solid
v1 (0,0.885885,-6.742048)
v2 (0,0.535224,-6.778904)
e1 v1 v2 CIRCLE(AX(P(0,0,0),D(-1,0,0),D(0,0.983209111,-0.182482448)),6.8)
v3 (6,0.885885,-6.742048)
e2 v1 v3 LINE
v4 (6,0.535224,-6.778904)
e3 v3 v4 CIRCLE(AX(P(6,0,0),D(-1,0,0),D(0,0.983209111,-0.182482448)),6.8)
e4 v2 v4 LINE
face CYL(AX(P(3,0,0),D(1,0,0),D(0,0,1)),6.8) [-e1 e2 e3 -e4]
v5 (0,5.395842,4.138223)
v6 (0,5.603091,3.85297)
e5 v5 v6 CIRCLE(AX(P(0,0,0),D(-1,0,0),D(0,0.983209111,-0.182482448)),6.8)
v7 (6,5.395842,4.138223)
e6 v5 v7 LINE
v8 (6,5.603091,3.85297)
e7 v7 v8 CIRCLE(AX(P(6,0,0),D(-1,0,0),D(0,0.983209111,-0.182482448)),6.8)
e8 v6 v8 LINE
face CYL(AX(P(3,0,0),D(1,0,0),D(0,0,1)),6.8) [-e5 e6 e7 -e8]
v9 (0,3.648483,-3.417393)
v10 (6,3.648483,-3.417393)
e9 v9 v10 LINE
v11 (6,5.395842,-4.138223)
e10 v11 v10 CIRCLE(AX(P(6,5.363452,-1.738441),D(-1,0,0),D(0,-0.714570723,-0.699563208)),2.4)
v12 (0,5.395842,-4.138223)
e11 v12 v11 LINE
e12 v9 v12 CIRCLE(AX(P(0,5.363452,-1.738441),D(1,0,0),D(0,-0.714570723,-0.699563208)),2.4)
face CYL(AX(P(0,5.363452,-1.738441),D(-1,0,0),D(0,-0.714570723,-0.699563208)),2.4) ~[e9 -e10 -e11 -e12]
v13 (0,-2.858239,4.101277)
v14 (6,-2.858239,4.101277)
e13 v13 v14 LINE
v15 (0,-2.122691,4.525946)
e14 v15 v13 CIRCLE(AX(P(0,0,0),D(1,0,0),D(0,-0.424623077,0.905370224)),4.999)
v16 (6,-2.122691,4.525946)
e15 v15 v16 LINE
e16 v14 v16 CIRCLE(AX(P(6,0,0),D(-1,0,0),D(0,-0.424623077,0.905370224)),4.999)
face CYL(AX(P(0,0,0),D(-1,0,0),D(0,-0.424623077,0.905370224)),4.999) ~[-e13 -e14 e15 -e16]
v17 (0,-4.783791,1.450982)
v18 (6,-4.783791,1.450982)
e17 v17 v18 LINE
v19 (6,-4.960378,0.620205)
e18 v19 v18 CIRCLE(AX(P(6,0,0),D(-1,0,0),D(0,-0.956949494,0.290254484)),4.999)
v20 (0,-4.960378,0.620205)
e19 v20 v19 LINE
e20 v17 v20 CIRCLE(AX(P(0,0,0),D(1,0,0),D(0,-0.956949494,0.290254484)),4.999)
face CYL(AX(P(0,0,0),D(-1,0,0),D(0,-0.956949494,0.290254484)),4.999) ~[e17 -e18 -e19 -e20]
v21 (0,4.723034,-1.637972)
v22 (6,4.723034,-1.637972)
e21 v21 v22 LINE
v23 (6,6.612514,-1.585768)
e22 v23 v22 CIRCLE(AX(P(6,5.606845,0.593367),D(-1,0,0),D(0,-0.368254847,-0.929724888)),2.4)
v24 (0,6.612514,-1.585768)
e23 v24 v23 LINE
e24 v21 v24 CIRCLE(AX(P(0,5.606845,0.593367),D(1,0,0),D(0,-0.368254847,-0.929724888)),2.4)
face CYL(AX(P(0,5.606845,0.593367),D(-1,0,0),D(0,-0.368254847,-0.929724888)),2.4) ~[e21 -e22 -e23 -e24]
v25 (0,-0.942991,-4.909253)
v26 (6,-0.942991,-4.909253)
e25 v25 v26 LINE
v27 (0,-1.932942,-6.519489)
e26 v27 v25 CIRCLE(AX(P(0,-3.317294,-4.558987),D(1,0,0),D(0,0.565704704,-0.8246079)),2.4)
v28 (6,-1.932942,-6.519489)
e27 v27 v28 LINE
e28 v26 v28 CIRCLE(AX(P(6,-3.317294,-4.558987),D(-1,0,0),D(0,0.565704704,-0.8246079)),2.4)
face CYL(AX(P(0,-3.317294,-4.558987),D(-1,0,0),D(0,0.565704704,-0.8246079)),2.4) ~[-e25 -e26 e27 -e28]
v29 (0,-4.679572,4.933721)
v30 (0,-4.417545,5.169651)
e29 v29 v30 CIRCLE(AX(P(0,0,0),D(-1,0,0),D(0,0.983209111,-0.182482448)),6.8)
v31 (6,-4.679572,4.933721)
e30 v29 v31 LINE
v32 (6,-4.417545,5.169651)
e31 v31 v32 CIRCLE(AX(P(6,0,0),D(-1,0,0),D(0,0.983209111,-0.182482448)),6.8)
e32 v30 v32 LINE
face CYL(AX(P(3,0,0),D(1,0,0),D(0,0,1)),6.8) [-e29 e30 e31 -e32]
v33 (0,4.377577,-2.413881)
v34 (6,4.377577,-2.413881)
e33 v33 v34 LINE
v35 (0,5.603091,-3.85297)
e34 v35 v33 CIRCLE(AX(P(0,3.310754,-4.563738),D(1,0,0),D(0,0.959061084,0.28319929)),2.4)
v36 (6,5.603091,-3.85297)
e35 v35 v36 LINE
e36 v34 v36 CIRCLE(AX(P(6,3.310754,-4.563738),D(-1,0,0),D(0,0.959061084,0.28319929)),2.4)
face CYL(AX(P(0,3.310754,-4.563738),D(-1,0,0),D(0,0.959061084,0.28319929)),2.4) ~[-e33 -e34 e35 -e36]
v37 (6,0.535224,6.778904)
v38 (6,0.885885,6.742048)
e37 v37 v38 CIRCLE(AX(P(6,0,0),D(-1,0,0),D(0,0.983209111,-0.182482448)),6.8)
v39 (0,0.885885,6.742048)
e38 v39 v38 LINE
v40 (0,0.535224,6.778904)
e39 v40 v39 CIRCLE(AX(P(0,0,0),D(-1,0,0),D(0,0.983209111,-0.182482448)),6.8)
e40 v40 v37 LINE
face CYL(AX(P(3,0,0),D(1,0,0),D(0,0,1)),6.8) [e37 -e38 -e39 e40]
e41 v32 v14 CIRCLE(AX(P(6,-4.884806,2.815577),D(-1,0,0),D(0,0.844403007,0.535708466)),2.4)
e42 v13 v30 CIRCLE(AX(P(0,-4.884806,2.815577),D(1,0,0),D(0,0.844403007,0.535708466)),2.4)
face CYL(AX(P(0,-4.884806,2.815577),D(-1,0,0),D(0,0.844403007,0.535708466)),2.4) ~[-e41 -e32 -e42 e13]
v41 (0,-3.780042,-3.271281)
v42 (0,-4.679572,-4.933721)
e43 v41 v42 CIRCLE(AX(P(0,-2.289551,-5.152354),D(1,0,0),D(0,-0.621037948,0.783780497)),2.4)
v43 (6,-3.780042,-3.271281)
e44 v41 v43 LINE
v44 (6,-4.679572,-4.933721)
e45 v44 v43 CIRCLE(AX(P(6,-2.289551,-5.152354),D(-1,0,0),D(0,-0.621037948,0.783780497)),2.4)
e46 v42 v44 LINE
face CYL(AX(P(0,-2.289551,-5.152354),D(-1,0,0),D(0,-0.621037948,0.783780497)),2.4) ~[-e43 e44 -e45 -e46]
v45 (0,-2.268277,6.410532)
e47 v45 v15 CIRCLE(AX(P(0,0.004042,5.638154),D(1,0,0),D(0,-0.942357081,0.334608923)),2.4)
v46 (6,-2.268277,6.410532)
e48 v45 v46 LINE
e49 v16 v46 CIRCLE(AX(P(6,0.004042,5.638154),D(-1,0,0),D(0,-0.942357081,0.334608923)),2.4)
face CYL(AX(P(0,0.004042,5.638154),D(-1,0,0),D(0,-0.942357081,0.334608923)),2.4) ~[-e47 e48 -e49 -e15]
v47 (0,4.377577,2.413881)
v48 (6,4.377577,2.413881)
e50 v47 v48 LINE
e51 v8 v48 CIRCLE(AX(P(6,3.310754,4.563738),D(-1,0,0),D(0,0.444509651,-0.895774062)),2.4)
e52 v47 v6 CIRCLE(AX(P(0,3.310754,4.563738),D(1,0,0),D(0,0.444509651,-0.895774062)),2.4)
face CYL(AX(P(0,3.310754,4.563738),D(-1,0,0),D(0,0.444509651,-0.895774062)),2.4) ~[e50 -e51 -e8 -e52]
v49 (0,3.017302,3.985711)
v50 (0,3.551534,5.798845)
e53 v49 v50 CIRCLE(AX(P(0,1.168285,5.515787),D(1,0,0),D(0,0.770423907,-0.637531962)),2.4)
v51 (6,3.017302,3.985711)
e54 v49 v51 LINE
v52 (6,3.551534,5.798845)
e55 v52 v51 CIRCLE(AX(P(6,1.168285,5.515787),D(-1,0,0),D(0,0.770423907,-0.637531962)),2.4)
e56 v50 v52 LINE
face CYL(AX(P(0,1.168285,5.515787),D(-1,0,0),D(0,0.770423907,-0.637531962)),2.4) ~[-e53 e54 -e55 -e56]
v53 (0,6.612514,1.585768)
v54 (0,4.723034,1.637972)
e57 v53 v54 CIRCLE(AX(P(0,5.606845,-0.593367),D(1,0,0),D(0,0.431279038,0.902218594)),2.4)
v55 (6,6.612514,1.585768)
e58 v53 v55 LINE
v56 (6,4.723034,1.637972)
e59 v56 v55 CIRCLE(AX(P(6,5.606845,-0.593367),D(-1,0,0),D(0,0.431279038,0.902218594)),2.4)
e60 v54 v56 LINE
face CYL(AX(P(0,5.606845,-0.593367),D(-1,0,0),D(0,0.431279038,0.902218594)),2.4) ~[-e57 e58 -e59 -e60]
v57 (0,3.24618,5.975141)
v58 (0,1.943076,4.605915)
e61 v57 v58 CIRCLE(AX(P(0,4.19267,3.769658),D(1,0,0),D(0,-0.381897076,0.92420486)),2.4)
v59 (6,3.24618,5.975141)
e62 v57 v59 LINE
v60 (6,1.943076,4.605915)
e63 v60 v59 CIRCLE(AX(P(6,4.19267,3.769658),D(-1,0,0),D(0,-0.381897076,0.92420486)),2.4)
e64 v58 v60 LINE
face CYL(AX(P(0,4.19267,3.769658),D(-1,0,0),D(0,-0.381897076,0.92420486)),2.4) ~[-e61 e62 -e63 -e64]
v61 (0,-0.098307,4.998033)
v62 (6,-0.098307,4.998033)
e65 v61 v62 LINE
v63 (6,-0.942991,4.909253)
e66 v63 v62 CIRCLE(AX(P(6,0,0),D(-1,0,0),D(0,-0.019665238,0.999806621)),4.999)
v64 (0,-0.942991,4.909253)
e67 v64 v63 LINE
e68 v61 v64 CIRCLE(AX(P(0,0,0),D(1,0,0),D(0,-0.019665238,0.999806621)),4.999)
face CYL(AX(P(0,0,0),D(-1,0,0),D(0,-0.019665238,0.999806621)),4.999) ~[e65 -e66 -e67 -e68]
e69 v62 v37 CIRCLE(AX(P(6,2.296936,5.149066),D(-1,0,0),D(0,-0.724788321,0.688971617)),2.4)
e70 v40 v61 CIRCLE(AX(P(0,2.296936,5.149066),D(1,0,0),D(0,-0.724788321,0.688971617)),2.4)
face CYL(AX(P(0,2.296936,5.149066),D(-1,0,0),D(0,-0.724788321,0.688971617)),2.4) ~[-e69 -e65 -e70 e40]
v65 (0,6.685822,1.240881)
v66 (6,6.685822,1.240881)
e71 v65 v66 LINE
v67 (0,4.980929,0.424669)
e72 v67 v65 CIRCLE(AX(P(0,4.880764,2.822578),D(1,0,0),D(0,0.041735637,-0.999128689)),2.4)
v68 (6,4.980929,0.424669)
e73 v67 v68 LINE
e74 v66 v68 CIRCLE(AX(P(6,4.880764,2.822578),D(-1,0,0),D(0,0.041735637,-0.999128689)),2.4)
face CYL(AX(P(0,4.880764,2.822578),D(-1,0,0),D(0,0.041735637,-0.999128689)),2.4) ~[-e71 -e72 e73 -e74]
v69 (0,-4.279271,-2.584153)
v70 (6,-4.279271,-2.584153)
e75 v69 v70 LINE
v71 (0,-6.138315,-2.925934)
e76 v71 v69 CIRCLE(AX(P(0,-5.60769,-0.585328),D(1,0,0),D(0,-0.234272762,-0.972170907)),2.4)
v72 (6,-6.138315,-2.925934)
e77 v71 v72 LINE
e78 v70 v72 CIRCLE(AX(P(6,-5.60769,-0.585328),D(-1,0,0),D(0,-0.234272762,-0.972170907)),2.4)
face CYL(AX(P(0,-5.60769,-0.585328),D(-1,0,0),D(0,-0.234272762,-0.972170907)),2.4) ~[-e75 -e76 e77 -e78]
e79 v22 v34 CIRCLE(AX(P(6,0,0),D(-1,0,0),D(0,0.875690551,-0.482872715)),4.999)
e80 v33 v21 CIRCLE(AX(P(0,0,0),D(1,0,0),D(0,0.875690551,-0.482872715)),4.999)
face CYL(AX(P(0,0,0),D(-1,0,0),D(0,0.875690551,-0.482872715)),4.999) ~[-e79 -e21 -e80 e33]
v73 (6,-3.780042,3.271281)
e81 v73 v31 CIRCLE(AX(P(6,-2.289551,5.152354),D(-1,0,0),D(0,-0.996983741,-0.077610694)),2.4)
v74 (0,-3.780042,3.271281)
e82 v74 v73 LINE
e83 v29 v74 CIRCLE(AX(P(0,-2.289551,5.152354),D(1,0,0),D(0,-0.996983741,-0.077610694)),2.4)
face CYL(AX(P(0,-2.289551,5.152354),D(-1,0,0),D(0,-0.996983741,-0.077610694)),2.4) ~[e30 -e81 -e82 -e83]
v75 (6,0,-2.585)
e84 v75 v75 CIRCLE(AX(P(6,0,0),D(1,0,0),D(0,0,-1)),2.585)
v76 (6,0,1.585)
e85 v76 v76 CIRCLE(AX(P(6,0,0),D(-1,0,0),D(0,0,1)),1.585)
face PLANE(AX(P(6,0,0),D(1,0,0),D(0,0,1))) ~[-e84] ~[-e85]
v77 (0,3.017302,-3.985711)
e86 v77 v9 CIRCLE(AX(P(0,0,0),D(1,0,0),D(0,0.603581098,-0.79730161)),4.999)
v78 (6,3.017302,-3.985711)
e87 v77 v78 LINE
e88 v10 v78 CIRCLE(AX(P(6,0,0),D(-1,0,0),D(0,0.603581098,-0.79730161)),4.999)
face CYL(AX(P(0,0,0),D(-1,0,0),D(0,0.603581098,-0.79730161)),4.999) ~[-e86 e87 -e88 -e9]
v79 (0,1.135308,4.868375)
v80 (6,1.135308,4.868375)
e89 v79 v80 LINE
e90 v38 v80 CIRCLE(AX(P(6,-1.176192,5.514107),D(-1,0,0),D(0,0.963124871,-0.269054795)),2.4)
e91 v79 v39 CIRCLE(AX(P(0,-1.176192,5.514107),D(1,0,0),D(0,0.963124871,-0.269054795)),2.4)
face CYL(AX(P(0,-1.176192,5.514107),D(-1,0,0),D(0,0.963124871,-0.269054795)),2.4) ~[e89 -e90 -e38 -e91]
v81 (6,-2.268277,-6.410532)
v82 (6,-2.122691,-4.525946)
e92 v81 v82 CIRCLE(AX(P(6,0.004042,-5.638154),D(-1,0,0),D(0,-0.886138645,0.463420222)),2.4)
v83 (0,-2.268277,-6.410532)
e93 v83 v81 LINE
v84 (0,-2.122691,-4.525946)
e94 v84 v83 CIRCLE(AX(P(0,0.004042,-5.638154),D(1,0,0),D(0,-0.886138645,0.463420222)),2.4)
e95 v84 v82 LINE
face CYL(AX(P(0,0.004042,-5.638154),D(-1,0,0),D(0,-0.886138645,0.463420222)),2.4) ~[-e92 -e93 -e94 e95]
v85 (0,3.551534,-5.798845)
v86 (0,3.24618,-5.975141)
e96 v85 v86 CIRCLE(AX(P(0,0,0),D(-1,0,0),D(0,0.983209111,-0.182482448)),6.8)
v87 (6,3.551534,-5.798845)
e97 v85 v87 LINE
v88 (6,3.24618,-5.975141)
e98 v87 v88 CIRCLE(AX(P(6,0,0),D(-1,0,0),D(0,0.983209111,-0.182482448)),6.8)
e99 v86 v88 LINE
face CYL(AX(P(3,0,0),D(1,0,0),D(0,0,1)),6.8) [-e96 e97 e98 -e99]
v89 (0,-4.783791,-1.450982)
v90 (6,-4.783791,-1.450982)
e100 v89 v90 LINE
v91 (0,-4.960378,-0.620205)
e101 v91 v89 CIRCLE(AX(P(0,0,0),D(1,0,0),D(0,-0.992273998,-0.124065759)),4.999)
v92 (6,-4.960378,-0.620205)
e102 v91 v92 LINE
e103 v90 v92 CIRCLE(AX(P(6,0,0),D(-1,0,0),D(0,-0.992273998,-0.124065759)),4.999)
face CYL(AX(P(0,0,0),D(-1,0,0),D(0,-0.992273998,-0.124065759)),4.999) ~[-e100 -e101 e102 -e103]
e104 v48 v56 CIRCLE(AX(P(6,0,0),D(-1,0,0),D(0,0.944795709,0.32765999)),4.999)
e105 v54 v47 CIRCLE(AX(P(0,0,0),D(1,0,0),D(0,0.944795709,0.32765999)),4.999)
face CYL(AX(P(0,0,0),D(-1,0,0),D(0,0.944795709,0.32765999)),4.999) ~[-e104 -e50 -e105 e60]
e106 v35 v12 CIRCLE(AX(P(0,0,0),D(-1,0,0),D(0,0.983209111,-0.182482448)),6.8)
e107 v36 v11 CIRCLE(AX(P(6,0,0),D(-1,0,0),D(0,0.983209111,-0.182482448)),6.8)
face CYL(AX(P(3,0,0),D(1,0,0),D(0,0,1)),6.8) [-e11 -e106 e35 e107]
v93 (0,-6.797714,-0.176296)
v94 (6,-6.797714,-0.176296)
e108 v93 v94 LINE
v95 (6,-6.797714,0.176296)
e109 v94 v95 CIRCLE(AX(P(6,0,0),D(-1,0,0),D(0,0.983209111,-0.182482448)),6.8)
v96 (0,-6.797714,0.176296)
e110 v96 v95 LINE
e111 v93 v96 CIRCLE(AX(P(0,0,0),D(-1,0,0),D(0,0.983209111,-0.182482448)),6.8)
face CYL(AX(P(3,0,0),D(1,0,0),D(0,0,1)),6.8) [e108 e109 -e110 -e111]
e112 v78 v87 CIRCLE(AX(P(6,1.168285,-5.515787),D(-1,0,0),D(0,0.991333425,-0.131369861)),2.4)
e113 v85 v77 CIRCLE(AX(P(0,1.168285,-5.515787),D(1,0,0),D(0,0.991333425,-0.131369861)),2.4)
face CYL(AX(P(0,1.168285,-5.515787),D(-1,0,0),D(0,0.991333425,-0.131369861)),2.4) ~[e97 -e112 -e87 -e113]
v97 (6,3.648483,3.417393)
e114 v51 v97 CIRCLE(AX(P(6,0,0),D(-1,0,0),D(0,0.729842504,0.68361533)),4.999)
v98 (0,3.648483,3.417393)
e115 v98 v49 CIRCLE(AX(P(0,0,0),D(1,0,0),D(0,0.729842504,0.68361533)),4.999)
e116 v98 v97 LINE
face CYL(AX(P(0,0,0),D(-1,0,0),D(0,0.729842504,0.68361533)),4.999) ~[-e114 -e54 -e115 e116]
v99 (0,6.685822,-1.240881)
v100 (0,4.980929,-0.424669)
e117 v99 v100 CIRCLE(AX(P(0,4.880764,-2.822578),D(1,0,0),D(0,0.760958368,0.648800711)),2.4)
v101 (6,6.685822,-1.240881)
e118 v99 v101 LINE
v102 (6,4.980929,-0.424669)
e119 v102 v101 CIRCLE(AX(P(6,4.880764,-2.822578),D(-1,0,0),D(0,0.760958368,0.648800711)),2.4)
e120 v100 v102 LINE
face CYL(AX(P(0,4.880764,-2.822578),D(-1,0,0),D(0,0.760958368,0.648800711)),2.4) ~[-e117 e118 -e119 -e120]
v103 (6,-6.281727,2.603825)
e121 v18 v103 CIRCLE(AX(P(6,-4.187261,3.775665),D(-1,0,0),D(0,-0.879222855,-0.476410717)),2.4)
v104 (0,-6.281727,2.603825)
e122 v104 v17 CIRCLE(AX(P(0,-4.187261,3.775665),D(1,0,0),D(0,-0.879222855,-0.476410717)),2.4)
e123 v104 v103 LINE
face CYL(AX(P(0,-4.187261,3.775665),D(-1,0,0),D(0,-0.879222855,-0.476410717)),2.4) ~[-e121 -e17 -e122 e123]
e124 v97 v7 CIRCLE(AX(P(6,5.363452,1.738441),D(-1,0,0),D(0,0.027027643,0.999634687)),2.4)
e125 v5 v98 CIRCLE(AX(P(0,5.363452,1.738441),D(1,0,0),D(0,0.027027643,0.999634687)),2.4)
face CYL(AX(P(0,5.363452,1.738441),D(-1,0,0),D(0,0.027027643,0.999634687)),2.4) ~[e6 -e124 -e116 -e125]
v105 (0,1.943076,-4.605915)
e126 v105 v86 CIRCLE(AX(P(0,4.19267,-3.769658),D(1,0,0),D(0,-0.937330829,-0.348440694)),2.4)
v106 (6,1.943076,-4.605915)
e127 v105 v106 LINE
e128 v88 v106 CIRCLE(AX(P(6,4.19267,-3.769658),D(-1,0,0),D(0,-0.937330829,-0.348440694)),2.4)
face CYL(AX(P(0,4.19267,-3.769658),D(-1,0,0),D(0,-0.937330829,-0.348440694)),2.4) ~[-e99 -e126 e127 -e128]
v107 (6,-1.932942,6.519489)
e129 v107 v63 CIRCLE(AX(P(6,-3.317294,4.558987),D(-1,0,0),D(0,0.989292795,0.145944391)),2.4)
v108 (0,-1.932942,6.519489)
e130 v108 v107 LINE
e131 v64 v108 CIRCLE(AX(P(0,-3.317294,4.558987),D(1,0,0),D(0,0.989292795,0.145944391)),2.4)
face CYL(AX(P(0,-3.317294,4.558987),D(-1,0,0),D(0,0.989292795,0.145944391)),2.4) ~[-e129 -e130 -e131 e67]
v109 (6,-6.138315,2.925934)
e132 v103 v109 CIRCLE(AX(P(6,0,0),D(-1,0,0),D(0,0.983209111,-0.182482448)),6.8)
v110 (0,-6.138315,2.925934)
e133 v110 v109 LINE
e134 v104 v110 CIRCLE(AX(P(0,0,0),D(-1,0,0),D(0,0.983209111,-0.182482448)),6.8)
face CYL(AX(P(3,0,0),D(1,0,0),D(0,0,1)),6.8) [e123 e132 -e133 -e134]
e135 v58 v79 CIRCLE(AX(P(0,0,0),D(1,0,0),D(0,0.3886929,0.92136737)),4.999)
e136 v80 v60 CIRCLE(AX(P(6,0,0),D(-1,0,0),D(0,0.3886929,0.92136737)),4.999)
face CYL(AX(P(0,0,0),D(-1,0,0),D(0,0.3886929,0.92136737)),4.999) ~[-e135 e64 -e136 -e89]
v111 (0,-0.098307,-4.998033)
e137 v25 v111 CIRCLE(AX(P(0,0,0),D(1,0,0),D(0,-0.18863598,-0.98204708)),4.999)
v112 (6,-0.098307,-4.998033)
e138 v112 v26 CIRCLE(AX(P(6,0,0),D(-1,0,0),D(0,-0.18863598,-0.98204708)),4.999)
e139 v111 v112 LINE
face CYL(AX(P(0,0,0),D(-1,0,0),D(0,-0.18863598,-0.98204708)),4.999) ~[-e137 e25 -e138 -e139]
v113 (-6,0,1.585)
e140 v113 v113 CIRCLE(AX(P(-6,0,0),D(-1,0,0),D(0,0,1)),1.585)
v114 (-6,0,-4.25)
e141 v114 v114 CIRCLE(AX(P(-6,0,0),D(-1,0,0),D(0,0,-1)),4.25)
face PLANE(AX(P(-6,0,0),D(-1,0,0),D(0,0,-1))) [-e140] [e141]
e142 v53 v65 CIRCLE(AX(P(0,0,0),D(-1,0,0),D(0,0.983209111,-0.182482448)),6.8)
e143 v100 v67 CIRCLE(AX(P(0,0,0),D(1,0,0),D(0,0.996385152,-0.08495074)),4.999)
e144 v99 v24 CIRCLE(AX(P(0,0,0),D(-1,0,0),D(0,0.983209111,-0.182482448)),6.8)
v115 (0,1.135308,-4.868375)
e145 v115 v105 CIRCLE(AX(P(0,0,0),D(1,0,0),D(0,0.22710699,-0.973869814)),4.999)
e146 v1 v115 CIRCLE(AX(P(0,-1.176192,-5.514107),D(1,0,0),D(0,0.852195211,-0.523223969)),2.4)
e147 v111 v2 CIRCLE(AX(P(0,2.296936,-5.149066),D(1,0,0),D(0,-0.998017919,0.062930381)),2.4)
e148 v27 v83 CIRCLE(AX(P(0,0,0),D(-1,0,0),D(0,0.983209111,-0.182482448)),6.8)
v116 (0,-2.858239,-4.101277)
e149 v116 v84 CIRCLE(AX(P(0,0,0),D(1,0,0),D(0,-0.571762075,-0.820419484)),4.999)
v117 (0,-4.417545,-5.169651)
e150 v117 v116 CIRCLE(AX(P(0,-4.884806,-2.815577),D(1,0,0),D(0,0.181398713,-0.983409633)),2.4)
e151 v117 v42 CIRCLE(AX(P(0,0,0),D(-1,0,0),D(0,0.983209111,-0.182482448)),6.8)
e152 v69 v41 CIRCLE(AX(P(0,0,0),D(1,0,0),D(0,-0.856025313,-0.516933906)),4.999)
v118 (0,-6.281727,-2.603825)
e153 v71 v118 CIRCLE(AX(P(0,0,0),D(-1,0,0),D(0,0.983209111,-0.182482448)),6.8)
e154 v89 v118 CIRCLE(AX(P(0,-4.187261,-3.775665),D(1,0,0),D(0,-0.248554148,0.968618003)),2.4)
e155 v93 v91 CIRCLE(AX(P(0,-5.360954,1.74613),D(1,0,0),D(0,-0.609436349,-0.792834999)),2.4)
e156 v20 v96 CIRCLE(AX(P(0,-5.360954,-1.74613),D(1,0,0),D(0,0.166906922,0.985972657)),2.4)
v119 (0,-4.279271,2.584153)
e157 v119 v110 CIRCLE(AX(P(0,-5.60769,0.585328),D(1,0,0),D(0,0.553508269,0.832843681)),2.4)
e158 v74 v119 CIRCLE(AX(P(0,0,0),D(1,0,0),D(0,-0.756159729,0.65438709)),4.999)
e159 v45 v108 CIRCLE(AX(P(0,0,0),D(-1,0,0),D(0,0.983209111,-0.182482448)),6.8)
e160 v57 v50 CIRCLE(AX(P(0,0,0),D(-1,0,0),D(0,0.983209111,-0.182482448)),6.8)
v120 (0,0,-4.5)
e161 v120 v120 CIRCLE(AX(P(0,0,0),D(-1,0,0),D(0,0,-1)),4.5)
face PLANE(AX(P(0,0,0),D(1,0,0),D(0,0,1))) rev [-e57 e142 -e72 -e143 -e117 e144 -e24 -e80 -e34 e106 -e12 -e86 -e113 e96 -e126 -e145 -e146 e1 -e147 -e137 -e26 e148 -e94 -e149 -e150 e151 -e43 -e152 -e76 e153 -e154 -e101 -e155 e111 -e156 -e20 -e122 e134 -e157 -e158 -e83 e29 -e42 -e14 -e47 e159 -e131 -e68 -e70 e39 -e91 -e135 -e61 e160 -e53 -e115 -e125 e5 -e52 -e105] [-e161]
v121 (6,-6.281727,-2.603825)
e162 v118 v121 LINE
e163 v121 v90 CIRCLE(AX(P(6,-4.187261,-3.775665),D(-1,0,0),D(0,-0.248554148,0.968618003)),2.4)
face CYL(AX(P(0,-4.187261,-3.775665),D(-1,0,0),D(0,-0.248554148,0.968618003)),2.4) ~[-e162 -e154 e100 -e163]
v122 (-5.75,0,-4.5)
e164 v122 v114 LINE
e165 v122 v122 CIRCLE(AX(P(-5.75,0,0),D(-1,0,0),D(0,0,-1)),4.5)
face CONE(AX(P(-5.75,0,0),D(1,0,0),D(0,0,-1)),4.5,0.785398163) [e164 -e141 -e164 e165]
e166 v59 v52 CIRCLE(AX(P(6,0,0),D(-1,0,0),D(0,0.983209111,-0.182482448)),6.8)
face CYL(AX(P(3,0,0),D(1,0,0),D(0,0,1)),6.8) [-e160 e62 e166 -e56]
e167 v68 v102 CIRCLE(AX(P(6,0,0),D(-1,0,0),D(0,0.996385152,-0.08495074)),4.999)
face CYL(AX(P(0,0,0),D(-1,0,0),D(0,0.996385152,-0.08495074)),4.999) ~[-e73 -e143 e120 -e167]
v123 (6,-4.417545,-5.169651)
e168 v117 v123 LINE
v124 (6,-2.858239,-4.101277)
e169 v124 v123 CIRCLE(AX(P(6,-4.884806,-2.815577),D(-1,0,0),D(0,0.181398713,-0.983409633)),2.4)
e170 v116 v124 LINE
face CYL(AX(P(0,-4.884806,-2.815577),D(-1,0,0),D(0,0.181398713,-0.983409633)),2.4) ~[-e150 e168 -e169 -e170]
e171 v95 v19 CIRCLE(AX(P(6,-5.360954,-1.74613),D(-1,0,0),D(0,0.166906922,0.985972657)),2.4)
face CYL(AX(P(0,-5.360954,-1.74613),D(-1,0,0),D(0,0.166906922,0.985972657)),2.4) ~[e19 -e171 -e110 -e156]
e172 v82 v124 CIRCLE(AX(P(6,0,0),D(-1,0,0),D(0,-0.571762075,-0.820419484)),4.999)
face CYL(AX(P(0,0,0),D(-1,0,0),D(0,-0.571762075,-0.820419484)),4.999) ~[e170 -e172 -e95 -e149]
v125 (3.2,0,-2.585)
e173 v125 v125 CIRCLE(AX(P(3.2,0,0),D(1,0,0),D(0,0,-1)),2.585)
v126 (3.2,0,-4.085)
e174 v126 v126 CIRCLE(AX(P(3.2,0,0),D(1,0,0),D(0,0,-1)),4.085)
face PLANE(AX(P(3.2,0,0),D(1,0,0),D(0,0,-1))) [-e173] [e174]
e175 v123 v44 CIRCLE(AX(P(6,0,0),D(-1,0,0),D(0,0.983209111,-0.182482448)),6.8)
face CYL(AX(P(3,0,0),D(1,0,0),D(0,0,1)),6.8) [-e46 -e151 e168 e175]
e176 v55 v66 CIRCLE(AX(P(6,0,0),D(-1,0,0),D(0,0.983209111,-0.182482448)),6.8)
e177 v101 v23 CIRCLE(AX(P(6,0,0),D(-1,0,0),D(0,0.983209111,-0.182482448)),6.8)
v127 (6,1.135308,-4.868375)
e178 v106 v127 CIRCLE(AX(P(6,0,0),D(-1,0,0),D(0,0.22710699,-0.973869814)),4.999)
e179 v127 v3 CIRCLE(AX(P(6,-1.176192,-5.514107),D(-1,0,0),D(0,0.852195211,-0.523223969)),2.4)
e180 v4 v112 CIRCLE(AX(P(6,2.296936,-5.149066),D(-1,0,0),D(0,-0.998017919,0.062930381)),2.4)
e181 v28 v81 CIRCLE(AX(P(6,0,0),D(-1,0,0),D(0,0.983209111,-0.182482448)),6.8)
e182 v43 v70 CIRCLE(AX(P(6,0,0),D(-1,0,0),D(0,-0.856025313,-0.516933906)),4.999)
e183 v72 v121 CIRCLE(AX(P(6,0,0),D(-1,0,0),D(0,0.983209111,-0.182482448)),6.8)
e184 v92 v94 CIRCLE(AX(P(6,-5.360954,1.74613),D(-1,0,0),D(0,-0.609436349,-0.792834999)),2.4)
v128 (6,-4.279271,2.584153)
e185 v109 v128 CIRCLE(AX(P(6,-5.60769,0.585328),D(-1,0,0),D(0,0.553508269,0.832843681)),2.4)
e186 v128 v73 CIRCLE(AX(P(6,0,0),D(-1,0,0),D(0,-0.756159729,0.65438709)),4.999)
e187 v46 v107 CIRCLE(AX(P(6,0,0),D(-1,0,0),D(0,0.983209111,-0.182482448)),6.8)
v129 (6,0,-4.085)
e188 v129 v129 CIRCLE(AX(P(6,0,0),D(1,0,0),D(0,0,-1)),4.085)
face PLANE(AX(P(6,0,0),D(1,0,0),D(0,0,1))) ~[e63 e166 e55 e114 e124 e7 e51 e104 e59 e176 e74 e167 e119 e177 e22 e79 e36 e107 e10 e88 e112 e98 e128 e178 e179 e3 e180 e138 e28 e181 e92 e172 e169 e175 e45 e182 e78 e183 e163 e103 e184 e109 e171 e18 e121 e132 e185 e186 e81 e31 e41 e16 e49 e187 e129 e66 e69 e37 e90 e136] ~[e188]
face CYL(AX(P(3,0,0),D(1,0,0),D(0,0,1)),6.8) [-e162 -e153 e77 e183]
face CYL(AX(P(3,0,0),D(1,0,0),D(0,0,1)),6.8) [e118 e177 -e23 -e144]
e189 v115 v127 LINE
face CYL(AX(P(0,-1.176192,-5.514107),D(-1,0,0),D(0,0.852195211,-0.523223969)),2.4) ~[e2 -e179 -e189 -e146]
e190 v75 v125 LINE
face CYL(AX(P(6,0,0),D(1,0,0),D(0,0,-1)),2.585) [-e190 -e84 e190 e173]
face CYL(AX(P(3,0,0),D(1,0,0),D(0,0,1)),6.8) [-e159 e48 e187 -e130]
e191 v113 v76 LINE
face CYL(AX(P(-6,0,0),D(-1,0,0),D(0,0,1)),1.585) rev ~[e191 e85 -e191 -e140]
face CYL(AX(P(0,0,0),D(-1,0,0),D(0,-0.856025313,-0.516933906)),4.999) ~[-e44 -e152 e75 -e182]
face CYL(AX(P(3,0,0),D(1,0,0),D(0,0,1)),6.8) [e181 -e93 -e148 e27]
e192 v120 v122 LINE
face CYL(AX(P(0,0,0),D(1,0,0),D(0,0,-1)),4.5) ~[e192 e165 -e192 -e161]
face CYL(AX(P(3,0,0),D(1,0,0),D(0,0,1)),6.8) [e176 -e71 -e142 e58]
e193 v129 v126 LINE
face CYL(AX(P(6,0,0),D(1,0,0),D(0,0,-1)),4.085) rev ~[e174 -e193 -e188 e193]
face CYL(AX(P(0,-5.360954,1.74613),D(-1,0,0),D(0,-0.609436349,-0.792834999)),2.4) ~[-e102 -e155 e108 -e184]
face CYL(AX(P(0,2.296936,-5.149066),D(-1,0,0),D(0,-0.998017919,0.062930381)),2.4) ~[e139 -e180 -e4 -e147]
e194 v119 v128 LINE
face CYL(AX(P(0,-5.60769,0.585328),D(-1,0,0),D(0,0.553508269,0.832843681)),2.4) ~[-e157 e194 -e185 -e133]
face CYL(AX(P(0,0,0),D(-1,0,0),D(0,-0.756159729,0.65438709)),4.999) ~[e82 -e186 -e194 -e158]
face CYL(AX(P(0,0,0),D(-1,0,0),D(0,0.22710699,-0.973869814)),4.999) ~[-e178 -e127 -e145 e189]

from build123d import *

# Parameters (mm, degrees)
BASPROSKE_W             = 6
BASPROSKE_H             = 6.8
TOOTHCUT_DEPTH          = 12.334901852
TEETHCUTS_COUNT         = 15
TEETHCUTS_ANGLE         = 336
BORSKE_R                = 0.4
BORE_DEPTH              = 50.0000508
ESQUISSE1_R             = 4.5
BOSS_EXTRU_1_DEPTH      = 6
ENL_V_MAT_EXTRU_1_REACH = 17.369
ESQUISSE2_R             = 1.585
ESQUISSE3_R             = 4.085
ESQUISSE3_R_2           = 2.585
ENL_V_MAT_EXTRU_2_DEPTH = 2.8
CHANFREIN1_SIZE         = 0.25


with BuildPart() as part:
    # BasProSke → Base-Revolve (revolve)
    with BuildSketch(Plane(origin=(0, 0, 0), x_dir=(1, 0, 0), z_dir=(0, 1, 0)), mode=Mode.PRIVATE) as base_revolve_sk:
        with Locations((3, 3.4)):
            Rectangle(BASPROSKE_W, BASPROSKE_H)
    revolve(base_revolve_sk.sketch.rotate(Axis((-10, 0, 0), (1, 0, 0)), 180), axis=Axis((-10, 0, 0), (1, 0, 0)))

    # TooCutSke → ToothCut (cut, through all)
    with BuildSketch(Plane(origin=(0, 0, 0), x_dir=(0, 0, -1), z_dir=(1, 0, 0))):
        with BuildLine():
            ThreePointArc((0.424668738, 4.980929377), (0, 4.999), (-0.424668738, 4.980929377))
            ThreePointArc((-0.424668738, 4.980929377), (-0.664927989, 5.931738726), (-1.265455885, 6.70706393))
            ThreePointArc((-1.265455885, 6.70706393), (0, 6.8254), (1.265455885, 6.70706393))
            ThreePointArc((1.265455885, 6.70706393), (0.664927989, 5.931738726), (0.424668738, 4.980929377))
        make_face()
    toothcut = extrude(amount=TOOTHCUT_DEPTH, mode=Mode.SUBTRACT)

    # TeethCuts: ToothCut ×15 about axis
    teethcuts_axis = Axis((-10, 0, 0), (1, 0, 0))
    for i in range(1, TEETHCUTS_COUNT):
        add(toothcut.rotate(teethcuts_axis, i * TEETHCUTS_ANGLE / (TEETHCUTS_COUNT - 1)), mode=Mode.SUBTRACT)

    # BorSke → Bore (cut, symmetric)
    with BuildSketch(Plane(origin=(0, 0, 0), x_dir=(0, 0, -1), z_dir=(1, 0, 0))):
        with Locations(Location((0, 0, 0), (0, 0, 180))):
            Circle(BORSKE_R)
    extrude(amount=BORE_DEPTH, both=True, mode=Mode.SUBTRACT)

    # Esquisse1 → Boss.-Extru.1 (add)
    with BuildSketch(Plane.ZY):
        with Locations(Location((0, 0, 0), (0, 0, 180))):
            Circle(ESQUISSE1_R)
    extrude(amount=BOSS_EXTRU_1_DEPTH)

    # Esquisse2 → Enlèv. mat.-Extru.1 (cut, up to next)
    with BuildSketch(Plane.ZY.offset(6), mode=Mode.PRIVATE) as enl_v_mat_extru_1_sk1:
        Circle(ESQUISSE2_R)
    enl_v_mat_extru_1_tool1 = extrude(enl_v_mat_extru_1_sk1.sketch, amount=-ENL_V_MAT_EXTRU_1_REACH, mode=Mode.PRIVATE) & part.part
    add(enl_v_mat_extru_1_tool1.solids().sort_by_distance((-6, 0, 0))[0], mode=Mode.SUBTRACT)

    # Esquisse3 → Enlèv. mat.-Extru.2 (cut)
    with BuildSketch(Plane(origin=(6, 0, 0), x_dir=(0, 0, -1), z_dir=(1, 0, 0))):
        Circle(ESQUISSE3_R)
        Circle(ESQUISSE3_R_2, mode=Mode.SUBTRACT)
    extrude(amount=-ENL_V_MAT_EXTRU_2_DEPTH, mode=Mode.SUBTRACT)

    # Chanfrein1
    chanfrein1_edges = [part.edges().sort_by_distance(p)[0] for p in [
        (-6, 0, 4.5),
    ]]
    chamfer(chanfrein1_edges, length=CHANFREIN1_SIZE)


solid = part.part
